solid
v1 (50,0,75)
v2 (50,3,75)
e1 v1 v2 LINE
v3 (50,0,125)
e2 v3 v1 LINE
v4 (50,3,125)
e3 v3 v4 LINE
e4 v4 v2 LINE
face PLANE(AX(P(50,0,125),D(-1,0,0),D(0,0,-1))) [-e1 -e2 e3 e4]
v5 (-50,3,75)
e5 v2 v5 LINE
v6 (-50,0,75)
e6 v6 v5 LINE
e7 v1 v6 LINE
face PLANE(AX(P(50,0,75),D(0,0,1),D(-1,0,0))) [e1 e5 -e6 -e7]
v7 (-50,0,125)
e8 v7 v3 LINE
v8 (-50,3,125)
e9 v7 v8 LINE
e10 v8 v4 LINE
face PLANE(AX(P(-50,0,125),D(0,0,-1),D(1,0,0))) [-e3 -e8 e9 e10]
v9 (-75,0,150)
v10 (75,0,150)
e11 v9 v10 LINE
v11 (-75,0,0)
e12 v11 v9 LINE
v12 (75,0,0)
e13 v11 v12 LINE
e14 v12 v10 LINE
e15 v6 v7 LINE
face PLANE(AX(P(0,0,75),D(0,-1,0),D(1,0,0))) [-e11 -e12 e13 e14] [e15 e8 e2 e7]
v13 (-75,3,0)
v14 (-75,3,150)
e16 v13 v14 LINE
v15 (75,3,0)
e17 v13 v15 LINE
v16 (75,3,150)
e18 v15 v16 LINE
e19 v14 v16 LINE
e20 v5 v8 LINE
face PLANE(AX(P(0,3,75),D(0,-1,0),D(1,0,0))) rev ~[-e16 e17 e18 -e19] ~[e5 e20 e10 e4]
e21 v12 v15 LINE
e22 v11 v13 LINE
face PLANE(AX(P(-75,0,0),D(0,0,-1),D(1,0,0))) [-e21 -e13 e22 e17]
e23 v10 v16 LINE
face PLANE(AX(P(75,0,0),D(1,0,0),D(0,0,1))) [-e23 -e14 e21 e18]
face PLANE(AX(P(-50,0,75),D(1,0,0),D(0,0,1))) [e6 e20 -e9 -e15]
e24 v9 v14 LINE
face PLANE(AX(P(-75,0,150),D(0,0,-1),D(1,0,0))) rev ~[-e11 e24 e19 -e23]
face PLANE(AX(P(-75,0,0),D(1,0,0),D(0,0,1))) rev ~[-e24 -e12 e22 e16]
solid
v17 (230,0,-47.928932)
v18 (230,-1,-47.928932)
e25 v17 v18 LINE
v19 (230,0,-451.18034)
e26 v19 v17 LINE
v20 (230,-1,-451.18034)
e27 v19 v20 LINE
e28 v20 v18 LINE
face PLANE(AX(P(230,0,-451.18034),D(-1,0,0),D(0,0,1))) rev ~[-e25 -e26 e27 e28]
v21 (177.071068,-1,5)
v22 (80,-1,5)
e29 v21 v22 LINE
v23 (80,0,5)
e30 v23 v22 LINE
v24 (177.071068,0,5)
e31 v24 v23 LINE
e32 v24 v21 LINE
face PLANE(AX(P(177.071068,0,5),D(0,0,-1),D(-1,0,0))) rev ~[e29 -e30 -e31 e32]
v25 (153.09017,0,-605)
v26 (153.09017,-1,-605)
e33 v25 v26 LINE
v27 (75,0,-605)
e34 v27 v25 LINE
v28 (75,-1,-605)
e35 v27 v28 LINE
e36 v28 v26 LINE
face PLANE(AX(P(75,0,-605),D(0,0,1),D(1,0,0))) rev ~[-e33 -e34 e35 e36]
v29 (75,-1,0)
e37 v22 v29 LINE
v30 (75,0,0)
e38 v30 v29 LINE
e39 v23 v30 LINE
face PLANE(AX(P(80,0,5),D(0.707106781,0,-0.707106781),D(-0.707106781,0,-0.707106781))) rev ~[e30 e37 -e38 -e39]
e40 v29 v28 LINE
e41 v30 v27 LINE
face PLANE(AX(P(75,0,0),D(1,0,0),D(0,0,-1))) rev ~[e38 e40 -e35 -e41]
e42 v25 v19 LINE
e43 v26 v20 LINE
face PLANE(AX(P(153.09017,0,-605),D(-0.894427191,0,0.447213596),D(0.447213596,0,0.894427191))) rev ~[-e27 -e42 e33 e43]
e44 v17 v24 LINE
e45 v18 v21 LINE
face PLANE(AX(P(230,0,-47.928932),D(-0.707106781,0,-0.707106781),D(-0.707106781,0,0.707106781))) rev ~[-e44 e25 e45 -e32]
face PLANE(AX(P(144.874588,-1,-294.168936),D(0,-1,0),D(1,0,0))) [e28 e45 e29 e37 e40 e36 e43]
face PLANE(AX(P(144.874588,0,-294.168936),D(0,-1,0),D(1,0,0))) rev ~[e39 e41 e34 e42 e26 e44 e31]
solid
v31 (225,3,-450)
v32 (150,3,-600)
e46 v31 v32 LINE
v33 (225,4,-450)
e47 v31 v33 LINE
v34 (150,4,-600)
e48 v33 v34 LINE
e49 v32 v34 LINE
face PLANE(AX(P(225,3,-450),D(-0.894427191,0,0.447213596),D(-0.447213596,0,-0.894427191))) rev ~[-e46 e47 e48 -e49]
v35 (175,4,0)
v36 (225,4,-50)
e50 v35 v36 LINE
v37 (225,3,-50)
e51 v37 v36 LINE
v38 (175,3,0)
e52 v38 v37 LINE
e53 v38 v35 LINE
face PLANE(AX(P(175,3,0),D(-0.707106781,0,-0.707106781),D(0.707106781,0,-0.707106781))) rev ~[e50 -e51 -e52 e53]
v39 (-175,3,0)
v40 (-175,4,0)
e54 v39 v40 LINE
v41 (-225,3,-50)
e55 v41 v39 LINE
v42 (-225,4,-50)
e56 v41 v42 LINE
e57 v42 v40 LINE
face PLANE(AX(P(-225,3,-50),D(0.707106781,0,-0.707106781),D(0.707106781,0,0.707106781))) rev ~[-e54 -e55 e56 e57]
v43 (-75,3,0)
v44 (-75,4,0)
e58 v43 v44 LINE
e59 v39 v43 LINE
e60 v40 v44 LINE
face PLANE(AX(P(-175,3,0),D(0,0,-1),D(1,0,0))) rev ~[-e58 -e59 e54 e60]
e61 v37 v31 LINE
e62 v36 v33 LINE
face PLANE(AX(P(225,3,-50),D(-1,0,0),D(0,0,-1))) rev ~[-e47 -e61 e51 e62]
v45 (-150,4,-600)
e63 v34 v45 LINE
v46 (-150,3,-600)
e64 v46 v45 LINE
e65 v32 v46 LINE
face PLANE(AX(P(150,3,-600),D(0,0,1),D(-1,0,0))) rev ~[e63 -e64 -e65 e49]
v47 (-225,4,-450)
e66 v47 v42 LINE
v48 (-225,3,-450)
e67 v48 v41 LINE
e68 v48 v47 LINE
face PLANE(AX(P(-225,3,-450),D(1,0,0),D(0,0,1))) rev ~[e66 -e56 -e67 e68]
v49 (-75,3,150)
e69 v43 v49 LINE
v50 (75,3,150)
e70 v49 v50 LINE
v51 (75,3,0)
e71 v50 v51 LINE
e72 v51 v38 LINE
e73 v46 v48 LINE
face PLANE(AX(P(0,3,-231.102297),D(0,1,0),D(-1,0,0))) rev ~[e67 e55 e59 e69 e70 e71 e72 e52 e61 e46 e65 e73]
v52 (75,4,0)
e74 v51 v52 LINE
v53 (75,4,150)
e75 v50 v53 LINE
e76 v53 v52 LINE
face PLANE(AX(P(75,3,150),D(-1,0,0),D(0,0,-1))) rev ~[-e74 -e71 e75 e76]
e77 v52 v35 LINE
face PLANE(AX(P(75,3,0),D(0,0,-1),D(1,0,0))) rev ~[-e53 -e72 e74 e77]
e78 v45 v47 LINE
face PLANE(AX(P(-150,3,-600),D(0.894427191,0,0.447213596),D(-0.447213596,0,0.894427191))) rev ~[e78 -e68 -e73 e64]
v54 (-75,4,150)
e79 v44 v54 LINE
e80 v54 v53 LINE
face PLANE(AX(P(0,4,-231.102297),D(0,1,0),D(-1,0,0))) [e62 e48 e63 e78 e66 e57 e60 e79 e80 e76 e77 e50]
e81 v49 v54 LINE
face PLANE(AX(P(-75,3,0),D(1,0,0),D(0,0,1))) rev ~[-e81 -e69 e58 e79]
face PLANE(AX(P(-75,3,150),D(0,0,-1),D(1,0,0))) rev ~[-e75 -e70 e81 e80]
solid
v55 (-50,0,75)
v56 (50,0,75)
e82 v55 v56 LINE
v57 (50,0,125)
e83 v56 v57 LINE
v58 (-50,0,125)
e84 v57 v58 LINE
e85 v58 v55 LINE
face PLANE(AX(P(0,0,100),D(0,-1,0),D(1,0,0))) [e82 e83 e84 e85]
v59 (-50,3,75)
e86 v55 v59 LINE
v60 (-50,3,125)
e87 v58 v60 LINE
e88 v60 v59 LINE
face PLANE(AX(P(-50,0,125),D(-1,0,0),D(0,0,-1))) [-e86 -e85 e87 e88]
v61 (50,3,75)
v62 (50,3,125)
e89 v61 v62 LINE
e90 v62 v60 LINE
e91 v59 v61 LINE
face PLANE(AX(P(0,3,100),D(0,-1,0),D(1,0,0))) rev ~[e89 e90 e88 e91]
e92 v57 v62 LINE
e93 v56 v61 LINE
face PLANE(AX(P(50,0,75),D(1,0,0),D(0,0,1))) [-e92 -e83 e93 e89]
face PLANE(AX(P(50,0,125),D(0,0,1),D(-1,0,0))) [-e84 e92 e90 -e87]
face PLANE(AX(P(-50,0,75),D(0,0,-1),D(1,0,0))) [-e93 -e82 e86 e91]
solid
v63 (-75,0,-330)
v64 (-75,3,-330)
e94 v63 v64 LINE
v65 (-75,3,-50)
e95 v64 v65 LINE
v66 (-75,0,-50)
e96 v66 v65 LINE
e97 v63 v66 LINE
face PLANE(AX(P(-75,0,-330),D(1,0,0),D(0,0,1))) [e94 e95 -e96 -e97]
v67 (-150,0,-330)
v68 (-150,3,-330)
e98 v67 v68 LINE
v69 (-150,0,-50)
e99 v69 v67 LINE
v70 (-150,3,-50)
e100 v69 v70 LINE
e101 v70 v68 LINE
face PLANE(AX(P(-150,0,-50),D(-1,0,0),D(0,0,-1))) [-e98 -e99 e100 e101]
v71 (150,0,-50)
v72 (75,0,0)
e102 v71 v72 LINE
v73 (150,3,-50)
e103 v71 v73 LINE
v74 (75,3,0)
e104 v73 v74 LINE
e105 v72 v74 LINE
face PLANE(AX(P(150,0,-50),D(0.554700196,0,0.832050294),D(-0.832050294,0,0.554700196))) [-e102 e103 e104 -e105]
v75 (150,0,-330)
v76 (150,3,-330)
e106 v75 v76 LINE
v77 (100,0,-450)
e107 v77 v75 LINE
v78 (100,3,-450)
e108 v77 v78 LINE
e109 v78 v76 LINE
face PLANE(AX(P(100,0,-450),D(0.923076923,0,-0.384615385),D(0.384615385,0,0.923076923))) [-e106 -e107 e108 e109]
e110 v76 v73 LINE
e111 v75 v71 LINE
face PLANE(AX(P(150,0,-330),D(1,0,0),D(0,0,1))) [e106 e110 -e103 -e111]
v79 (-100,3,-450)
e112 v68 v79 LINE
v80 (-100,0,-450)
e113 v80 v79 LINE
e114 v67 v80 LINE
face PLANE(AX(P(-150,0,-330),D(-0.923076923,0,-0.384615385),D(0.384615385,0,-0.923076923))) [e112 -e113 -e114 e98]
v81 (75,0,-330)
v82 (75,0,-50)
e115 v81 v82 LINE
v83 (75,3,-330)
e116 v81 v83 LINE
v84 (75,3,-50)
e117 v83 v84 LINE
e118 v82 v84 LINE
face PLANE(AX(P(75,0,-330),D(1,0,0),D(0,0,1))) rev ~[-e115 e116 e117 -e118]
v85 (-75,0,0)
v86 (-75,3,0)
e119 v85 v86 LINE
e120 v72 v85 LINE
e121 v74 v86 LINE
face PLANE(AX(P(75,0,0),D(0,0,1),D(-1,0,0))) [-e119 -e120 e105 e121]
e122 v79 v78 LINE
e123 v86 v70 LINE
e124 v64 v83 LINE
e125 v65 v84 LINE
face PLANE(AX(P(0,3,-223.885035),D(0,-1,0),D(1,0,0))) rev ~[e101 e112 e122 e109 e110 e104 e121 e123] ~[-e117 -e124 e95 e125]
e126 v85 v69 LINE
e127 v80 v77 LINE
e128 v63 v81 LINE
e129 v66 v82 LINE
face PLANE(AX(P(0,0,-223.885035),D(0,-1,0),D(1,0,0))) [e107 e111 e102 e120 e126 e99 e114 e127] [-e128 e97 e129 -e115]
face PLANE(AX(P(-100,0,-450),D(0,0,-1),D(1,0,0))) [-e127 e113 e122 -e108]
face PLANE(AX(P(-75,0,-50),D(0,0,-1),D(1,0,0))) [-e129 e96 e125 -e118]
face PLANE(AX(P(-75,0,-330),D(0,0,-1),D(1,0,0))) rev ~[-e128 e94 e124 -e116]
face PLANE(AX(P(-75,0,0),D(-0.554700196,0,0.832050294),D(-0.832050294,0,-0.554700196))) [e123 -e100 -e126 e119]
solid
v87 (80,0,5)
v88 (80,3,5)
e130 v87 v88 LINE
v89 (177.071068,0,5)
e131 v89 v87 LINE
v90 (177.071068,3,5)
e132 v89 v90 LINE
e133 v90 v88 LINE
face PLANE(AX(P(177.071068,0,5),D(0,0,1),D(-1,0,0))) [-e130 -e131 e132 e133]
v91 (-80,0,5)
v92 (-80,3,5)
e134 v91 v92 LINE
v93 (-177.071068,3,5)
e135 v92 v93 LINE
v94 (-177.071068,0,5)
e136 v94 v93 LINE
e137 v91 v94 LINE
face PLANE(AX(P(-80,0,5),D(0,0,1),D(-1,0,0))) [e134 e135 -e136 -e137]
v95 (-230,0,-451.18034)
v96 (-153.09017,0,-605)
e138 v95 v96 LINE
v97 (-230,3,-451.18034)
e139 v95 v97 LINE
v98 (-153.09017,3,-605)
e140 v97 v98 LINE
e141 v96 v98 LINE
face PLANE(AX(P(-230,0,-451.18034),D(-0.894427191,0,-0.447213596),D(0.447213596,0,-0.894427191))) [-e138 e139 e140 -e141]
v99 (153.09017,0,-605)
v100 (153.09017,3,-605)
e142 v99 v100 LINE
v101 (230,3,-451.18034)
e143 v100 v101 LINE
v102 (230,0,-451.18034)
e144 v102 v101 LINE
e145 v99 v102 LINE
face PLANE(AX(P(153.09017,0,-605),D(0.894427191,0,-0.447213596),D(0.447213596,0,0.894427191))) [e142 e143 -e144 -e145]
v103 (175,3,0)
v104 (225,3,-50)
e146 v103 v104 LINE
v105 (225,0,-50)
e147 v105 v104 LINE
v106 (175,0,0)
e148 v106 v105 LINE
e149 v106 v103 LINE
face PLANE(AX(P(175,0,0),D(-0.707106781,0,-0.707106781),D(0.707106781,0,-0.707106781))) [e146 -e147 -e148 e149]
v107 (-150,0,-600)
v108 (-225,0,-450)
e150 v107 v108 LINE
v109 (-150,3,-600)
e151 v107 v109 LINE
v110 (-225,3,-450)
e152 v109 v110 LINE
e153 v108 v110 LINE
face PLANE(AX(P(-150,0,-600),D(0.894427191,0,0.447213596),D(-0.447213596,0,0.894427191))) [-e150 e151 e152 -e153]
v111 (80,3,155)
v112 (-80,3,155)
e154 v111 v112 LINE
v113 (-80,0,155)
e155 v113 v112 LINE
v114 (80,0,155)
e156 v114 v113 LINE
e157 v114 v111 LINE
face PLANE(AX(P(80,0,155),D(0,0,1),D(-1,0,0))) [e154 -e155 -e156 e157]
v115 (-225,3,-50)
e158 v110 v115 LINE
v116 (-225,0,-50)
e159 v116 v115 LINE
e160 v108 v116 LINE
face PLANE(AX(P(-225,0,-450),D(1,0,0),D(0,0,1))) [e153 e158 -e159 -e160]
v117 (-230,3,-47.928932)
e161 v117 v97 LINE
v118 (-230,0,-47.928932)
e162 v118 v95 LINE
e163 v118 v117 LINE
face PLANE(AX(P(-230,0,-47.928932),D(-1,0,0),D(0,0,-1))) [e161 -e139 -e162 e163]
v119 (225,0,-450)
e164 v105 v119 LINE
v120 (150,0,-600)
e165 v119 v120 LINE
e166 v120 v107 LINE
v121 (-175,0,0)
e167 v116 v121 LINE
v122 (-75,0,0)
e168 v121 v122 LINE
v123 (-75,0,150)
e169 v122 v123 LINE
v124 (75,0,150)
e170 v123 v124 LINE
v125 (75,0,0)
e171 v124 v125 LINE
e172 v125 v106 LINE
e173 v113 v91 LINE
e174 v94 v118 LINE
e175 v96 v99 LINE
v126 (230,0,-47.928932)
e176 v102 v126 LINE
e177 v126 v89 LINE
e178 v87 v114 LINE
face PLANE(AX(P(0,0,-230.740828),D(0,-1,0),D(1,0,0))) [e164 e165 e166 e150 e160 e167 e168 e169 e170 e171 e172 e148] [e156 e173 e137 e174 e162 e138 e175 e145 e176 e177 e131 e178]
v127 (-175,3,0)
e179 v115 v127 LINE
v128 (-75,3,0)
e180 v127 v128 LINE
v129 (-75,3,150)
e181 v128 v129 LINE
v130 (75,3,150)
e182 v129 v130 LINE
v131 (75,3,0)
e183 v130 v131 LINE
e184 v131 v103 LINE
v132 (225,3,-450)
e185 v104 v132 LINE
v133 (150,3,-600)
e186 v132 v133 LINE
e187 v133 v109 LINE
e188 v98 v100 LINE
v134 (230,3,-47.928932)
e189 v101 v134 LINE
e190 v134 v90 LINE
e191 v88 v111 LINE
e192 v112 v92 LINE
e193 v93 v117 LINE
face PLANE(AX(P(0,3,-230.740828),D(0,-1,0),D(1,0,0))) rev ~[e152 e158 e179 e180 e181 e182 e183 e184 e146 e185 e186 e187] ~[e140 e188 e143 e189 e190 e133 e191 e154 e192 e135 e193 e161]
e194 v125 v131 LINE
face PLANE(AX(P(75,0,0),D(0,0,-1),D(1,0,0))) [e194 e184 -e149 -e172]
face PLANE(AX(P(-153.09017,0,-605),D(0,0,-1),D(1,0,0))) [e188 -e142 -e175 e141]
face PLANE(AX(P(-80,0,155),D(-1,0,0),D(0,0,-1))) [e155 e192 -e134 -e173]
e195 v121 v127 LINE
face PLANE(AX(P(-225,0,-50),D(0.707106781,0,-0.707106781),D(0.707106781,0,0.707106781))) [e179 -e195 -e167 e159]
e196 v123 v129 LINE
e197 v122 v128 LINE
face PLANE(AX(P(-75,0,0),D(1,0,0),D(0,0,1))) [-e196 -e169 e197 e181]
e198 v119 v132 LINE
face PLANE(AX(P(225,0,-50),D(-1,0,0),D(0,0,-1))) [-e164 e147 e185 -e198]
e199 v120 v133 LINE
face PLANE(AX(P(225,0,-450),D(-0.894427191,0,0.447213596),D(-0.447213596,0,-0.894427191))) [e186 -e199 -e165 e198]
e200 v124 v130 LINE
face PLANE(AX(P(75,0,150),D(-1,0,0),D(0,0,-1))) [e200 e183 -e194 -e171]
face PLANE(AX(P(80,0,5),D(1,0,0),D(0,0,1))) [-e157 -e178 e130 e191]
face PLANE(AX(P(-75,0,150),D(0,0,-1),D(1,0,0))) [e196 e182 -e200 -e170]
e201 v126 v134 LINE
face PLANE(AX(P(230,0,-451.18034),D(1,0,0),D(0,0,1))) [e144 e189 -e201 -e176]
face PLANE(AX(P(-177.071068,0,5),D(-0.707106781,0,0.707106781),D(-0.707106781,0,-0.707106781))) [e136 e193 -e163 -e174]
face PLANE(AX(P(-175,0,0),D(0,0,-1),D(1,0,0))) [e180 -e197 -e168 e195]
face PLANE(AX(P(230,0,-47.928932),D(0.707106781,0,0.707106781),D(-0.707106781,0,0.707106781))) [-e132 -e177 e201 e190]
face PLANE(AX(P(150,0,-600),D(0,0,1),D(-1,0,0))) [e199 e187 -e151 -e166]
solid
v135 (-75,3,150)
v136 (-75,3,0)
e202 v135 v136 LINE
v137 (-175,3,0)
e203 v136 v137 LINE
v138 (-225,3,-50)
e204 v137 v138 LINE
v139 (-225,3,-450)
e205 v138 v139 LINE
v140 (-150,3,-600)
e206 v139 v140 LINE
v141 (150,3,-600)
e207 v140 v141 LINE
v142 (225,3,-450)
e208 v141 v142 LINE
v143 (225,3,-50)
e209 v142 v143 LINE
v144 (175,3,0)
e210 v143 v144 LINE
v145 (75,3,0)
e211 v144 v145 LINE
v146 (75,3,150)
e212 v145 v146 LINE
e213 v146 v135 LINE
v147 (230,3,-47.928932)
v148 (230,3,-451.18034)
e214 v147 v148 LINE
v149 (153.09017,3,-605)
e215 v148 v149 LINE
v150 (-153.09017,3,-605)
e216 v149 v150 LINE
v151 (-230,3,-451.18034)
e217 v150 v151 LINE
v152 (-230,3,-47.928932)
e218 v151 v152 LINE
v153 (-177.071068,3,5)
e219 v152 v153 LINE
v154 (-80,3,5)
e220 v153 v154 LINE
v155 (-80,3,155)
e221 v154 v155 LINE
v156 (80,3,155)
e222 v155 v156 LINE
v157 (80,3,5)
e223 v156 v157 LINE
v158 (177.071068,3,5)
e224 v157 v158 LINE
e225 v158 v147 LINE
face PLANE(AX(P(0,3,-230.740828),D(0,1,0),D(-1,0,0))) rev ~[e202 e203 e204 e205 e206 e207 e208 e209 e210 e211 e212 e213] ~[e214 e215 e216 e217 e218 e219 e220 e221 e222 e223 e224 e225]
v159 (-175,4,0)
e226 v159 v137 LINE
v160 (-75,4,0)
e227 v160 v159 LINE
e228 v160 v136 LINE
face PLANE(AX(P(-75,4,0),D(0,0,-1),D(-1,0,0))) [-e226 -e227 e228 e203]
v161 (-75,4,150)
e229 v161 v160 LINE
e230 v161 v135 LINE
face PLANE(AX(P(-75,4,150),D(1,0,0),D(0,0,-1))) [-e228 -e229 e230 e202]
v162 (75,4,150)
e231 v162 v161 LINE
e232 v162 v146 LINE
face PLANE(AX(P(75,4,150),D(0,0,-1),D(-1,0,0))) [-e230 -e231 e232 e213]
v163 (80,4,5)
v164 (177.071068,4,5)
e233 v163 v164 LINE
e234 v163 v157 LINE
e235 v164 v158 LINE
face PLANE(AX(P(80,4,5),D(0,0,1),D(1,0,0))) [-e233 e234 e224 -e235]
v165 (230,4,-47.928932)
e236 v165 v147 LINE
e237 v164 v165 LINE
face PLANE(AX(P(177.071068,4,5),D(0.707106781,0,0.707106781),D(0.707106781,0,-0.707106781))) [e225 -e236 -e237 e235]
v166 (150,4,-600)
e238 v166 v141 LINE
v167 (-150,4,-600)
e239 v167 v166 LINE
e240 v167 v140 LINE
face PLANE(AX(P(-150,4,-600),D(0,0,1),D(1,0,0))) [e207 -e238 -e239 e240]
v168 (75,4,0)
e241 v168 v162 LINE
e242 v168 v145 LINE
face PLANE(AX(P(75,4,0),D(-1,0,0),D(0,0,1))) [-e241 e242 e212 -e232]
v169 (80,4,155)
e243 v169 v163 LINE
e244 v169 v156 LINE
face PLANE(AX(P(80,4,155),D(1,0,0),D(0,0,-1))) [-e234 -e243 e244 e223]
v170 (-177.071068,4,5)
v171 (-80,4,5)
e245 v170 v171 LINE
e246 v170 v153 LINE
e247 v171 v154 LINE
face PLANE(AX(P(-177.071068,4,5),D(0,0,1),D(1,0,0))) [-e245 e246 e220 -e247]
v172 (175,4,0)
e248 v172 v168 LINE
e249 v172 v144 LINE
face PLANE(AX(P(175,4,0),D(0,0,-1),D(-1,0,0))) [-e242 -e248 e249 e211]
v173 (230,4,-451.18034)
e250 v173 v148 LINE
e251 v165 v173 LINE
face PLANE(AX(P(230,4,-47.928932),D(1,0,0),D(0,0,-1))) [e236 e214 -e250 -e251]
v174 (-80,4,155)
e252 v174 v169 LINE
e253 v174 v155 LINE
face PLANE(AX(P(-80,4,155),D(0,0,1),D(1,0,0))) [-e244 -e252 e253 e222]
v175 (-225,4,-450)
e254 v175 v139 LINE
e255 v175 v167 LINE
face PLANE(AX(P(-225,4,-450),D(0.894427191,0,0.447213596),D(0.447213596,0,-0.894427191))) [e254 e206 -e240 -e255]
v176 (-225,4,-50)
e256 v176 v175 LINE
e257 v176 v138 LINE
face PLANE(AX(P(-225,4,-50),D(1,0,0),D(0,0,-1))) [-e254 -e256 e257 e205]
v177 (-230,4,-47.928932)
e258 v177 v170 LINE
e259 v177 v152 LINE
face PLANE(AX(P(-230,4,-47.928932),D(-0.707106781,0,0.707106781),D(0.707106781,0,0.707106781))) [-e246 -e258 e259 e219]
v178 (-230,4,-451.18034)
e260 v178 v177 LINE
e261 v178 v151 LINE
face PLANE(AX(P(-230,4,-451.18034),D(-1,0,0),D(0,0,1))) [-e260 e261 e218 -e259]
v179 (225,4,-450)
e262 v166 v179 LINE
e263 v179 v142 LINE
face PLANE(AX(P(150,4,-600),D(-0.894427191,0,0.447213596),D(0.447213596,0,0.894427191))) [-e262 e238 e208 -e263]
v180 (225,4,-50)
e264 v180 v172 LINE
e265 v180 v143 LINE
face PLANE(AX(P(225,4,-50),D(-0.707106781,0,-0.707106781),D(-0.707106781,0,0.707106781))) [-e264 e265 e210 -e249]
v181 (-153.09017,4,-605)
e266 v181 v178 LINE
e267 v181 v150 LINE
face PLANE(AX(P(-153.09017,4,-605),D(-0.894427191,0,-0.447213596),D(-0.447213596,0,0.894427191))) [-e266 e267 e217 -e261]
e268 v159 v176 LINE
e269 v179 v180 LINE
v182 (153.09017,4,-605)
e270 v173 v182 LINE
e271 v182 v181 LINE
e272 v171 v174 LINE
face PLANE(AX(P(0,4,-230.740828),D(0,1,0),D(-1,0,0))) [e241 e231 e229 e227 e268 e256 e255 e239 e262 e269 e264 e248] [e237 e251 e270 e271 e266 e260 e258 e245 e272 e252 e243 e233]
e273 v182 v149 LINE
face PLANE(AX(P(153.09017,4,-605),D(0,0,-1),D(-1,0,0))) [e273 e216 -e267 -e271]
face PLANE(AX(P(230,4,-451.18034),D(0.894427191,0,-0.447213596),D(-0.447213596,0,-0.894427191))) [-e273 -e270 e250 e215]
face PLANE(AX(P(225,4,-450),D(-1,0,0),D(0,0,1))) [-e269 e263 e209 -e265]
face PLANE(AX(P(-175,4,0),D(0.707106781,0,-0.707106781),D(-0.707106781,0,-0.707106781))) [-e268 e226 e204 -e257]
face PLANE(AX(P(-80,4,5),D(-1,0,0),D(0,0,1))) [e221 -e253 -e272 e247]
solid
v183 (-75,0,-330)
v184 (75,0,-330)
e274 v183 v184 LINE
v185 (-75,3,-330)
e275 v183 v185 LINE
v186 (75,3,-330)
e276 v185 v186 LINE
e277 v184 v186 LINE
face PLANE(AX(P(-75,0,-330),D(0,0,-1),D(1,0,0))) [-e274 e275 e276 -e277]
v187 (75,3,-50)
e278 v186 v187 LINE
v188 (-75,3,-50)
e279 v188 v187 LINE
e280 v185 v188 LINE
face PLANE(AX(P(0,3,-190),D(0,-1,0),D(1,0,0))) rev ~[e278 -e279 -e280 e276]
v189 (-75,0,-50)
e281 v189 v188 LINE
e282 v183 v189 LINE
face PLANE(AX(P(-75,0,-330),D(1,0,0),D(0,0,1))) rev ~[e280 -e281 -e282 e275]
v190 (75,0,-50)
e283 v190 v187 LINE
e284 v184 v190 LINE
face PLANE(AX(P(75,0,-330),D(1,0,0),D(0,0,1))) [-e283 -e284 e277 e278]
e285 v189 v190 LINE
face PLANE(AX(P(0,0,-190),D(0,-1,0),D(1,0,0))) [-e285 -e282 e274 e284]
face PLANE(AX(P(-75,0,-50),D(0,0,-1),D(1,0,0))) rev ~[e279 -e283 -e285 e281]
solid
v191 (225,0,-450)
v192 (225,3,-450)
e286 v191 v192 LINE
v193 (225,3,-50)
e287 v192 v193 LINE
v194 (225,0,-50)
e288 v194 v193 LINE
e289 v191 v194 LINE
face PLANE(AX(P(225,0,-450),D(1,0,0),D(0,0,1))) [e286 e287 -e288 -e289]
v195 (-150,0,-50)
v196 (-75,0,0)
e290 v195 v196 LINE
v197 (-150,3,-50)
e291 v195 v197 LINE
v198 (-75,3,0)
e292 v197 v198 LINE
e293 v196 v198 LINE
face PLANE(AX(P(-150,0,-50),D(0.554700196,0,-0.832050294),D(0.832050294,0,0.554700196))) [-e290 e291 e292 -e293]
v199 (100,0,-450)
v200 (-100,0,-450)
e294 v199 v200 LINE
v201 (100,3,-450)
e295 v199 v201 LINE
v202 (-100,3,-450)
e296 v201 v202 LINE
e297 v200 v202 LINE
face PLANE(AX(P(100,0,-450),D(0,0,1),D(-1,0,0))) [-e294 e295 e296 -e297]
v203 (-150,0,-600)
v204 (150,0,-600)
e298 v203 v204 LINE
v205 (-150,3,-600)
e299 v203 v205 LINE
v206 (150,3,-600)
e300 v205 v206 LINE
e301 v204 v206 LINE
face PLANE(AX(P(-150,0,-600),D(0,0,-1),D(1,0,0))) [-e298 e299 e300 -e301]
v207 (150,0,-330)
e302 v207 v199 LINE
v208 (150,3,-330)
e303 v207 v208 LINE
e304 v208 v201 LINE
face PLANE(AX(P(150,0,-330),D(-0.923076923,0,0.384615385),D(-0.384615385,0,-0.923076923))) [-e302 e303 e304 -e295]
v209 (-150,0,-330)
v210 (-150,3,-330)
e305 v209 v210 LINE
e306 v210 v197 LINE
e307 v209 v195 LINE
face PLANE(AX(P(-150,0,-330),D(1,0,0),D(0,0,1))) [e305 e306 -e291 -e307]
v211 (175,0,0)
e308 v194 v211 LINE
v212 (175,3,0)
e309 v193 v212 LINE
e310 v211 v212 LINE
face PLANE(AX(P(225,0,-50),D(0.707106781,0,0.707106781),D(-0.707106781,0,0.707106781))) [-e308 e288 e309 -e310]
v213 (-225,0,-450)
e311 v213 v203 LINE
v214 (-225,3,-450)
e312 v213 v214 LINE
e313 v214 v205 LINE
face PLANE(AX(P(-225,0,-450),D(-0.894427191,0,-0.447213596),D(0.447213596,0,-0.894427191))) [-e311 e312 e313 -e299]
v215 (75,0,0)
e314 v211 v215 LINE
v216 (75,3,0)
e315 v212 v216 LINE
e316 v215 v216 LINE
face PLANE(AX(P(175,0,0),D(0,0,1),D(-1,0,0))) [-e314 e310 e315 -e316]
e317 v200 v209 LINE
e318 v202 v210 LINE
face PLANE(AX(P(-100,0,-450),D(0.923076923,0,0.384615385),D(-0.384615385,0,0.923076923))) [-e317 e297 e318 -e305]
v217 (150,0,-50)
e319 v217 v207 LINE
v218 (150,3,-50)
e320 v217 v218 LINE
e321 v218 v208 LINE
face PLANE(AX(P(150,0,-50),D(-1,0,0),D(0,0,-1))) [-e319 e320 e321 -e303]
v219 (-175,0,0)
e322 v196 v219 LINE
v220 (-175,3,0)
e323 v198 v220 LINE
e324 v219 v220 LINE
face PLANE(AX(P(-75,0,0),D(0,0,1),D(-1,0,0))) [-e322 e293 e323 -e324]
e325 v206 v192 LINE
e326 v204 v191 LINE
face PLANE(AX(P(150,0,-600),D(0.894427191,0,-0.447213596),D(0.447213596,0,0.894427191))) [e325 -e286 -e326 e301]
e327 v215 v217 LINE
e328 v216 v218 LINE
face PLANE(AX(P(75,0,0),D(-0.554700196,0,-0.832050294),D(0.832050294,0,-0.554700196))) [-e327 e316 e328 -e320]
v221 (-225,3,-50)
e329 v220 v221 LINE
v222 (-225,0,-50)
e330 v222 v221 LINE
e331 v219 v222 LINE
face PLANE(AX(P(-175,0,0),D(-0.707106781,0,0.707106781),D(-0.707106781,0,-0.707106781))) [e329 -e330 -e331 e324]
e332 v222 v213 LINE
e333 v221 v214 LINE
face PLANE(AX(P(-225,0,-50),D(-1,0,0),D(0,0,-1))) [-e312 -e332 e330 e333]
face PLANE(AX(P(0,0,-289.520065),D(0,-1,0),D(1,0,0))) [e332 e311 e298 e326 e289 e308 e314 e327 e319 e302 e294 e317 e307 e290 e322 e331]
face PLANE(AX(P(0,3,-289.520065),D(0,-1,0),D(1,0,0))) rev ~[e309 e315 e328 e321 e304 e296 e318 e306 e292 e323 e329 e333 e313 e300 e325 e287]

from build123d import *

# Parameters (mm, degrees)
F1_DEPTH  = 3
F2_W      = 150
F2_H      = 150
F3_DEPTH  = 3
F4_W      = 150
F4_H      = 280
F5_DEPTH  = 3
F6_W      = 150
F6_H      = 280
F7_DEPTH  = 3
F9_DEPTH  = 3
F11_DEPTH = 3
F13_DEPTH = 1
F15_DEPTH = 1
F17_DEPTH = 1


with BuildPart() as f1:
    # F0 (on Front) → F1 (new body)
    with BuildSketch(Plane.XZ):
        Polygon((50, 125), (0, 125), (-50, 125), (-50, 100), (-50, 75), (0, 75), (50, 75), (50, 100), align=None)
    extrude(amount=-F1_DEPTH)


with BuildPart() as f3:
    # F2 (on Front) → F3 (new body)
    with BuildSketch(Plane.XZ):
        with Locations((0, 75)):
            Rectangle(F2_W, F2_H)
        Polygon((-50, 125), (0, 125), (50, 125), (50, 100), (50, 75), (0, 75), (-50, 75), (-50, 100), align=None, mode=Mode.SUBTRACT)
    extrude(amount=-F3_DEPTH)


with BuildPart() as f5:
    # F4 (on Front) → F5 (new body)
    with BuildSketch(Plane.XZ):
        with Locations((0, -190)):
            Rectangle(F4_W, F4_H)
    extrude(amount=-F5_DEPTH)


with BuildPart() as f7:
    # F6 (on Front) → F7 (new body)
    with BuildSketch(Plane.XZ):
        Polygon((75, 0), (-75, 0), (-150, -50), (-150, -330), (-100, -450), (100, -450), (150, -330), (150, -50), align=None)
        with Locations((0, -190)):
            Rectangle(F6_W, F6_H, mode=Mode.SUBTRACT)
    extrude(amount=-F7_DEPTH)


with BuildPart() as f9:
    # F8 (on face) → F9 (new body)
    with BuildSketch(Plane.XZ):
        Polygon((175, 0), (75, 0), (150, -50), (150, -330), (100, -450), (-100, -450), (-150, -330), (-150, -50), (-75, 0), (-175, 0), (-225, -50), (-225, -450), (-150, -600), (150, -600), (225, -450), (225, -50), align=None)
    extrude(amount=-F9_DEPTH)


with BuildPart() as f11:
    # F10 (on face) → F11 (new body)
    with BuildSketch(Plane.XZ):
        Polygon((230, -47.928932), (177.071068, 5), (80, 5), (80, 155), (-80, 155), (-80, 5), (-177.071068, 5), (-230, -47.928932), (-230, -451.18034), (-153.09017, -605), (153.09017, -605), (230, -451.18034), align=None)
        Polygon((-75, 150), (75, 150), (75, 0), (175, 0), (225, -50), (225, -450), (150, -600), (-150, -600), (-225, -450), (-225, -50), (-175, 0), (-75, 0), align=None, mode=Mode.SUBTRACT)
    extrude(amount=-F11_DEPTH)


with BuildPart() as f13:
    # F12 (on face) → F13 (new body)
    with BuildSketch(Plane(origin=(0, 3, 0), x_dir=(-1, 0, 0), z_dir=(0, 1, 0))):
        Polygon((75, 0), (75, 150), (-75, 150), (-75, 0), (-175, 0), (-225, -50), (-225, -450), (-150, -600), (150, -600), (225, -450), (225, -50), (175, 0), align=None)
    extrude(amount=F13_DEPTH)


with BuildPart() as f15:
    # F14 (on face) → F15 (new body)
    with BuildSketch(Plane(origin=(0, 4, 0), x_dir=(-1, 0, 0), z_dir=(0, 1, 0))):
        Polygon((80, 155), (-80, 155), (-80, 5), (-177.071068, 5), (-230, -47.928932), (-230, -451.18034), (-153.09017, -605), (153.09017, -605), (230, -451.18034), (230, -47.928932), (177.071068, 5), (80, 5), align=None)
        Polygon((-75, 0), (-75, 150), (75, 150), (75, 0), (175, 0), (225, -50), (225, -450), (150, -600), (-150, -600), (-225, -450), (-225, -50), (-175, 0), align=None, mode=Mode.SUBTRACT)
    extrude(amount=-F15_DEPTH)


with BuildPart() as f17:
    # F16 (on face) → F17 (new body)
    with BuildSketch(Plane.XZ):
        Polygon((177.071068, 5), (80, 5), (75, 0), (75, -605), (153.09017, -605), (230, -451.18034), (230, -47.928932), align=None)
    extrude(amount=F17_DEPTH)


solid = Compound([f1.part, f3.part, f5.part, f7.part, f9.part, f11.part, f13.part, f15.part, f17.part])
